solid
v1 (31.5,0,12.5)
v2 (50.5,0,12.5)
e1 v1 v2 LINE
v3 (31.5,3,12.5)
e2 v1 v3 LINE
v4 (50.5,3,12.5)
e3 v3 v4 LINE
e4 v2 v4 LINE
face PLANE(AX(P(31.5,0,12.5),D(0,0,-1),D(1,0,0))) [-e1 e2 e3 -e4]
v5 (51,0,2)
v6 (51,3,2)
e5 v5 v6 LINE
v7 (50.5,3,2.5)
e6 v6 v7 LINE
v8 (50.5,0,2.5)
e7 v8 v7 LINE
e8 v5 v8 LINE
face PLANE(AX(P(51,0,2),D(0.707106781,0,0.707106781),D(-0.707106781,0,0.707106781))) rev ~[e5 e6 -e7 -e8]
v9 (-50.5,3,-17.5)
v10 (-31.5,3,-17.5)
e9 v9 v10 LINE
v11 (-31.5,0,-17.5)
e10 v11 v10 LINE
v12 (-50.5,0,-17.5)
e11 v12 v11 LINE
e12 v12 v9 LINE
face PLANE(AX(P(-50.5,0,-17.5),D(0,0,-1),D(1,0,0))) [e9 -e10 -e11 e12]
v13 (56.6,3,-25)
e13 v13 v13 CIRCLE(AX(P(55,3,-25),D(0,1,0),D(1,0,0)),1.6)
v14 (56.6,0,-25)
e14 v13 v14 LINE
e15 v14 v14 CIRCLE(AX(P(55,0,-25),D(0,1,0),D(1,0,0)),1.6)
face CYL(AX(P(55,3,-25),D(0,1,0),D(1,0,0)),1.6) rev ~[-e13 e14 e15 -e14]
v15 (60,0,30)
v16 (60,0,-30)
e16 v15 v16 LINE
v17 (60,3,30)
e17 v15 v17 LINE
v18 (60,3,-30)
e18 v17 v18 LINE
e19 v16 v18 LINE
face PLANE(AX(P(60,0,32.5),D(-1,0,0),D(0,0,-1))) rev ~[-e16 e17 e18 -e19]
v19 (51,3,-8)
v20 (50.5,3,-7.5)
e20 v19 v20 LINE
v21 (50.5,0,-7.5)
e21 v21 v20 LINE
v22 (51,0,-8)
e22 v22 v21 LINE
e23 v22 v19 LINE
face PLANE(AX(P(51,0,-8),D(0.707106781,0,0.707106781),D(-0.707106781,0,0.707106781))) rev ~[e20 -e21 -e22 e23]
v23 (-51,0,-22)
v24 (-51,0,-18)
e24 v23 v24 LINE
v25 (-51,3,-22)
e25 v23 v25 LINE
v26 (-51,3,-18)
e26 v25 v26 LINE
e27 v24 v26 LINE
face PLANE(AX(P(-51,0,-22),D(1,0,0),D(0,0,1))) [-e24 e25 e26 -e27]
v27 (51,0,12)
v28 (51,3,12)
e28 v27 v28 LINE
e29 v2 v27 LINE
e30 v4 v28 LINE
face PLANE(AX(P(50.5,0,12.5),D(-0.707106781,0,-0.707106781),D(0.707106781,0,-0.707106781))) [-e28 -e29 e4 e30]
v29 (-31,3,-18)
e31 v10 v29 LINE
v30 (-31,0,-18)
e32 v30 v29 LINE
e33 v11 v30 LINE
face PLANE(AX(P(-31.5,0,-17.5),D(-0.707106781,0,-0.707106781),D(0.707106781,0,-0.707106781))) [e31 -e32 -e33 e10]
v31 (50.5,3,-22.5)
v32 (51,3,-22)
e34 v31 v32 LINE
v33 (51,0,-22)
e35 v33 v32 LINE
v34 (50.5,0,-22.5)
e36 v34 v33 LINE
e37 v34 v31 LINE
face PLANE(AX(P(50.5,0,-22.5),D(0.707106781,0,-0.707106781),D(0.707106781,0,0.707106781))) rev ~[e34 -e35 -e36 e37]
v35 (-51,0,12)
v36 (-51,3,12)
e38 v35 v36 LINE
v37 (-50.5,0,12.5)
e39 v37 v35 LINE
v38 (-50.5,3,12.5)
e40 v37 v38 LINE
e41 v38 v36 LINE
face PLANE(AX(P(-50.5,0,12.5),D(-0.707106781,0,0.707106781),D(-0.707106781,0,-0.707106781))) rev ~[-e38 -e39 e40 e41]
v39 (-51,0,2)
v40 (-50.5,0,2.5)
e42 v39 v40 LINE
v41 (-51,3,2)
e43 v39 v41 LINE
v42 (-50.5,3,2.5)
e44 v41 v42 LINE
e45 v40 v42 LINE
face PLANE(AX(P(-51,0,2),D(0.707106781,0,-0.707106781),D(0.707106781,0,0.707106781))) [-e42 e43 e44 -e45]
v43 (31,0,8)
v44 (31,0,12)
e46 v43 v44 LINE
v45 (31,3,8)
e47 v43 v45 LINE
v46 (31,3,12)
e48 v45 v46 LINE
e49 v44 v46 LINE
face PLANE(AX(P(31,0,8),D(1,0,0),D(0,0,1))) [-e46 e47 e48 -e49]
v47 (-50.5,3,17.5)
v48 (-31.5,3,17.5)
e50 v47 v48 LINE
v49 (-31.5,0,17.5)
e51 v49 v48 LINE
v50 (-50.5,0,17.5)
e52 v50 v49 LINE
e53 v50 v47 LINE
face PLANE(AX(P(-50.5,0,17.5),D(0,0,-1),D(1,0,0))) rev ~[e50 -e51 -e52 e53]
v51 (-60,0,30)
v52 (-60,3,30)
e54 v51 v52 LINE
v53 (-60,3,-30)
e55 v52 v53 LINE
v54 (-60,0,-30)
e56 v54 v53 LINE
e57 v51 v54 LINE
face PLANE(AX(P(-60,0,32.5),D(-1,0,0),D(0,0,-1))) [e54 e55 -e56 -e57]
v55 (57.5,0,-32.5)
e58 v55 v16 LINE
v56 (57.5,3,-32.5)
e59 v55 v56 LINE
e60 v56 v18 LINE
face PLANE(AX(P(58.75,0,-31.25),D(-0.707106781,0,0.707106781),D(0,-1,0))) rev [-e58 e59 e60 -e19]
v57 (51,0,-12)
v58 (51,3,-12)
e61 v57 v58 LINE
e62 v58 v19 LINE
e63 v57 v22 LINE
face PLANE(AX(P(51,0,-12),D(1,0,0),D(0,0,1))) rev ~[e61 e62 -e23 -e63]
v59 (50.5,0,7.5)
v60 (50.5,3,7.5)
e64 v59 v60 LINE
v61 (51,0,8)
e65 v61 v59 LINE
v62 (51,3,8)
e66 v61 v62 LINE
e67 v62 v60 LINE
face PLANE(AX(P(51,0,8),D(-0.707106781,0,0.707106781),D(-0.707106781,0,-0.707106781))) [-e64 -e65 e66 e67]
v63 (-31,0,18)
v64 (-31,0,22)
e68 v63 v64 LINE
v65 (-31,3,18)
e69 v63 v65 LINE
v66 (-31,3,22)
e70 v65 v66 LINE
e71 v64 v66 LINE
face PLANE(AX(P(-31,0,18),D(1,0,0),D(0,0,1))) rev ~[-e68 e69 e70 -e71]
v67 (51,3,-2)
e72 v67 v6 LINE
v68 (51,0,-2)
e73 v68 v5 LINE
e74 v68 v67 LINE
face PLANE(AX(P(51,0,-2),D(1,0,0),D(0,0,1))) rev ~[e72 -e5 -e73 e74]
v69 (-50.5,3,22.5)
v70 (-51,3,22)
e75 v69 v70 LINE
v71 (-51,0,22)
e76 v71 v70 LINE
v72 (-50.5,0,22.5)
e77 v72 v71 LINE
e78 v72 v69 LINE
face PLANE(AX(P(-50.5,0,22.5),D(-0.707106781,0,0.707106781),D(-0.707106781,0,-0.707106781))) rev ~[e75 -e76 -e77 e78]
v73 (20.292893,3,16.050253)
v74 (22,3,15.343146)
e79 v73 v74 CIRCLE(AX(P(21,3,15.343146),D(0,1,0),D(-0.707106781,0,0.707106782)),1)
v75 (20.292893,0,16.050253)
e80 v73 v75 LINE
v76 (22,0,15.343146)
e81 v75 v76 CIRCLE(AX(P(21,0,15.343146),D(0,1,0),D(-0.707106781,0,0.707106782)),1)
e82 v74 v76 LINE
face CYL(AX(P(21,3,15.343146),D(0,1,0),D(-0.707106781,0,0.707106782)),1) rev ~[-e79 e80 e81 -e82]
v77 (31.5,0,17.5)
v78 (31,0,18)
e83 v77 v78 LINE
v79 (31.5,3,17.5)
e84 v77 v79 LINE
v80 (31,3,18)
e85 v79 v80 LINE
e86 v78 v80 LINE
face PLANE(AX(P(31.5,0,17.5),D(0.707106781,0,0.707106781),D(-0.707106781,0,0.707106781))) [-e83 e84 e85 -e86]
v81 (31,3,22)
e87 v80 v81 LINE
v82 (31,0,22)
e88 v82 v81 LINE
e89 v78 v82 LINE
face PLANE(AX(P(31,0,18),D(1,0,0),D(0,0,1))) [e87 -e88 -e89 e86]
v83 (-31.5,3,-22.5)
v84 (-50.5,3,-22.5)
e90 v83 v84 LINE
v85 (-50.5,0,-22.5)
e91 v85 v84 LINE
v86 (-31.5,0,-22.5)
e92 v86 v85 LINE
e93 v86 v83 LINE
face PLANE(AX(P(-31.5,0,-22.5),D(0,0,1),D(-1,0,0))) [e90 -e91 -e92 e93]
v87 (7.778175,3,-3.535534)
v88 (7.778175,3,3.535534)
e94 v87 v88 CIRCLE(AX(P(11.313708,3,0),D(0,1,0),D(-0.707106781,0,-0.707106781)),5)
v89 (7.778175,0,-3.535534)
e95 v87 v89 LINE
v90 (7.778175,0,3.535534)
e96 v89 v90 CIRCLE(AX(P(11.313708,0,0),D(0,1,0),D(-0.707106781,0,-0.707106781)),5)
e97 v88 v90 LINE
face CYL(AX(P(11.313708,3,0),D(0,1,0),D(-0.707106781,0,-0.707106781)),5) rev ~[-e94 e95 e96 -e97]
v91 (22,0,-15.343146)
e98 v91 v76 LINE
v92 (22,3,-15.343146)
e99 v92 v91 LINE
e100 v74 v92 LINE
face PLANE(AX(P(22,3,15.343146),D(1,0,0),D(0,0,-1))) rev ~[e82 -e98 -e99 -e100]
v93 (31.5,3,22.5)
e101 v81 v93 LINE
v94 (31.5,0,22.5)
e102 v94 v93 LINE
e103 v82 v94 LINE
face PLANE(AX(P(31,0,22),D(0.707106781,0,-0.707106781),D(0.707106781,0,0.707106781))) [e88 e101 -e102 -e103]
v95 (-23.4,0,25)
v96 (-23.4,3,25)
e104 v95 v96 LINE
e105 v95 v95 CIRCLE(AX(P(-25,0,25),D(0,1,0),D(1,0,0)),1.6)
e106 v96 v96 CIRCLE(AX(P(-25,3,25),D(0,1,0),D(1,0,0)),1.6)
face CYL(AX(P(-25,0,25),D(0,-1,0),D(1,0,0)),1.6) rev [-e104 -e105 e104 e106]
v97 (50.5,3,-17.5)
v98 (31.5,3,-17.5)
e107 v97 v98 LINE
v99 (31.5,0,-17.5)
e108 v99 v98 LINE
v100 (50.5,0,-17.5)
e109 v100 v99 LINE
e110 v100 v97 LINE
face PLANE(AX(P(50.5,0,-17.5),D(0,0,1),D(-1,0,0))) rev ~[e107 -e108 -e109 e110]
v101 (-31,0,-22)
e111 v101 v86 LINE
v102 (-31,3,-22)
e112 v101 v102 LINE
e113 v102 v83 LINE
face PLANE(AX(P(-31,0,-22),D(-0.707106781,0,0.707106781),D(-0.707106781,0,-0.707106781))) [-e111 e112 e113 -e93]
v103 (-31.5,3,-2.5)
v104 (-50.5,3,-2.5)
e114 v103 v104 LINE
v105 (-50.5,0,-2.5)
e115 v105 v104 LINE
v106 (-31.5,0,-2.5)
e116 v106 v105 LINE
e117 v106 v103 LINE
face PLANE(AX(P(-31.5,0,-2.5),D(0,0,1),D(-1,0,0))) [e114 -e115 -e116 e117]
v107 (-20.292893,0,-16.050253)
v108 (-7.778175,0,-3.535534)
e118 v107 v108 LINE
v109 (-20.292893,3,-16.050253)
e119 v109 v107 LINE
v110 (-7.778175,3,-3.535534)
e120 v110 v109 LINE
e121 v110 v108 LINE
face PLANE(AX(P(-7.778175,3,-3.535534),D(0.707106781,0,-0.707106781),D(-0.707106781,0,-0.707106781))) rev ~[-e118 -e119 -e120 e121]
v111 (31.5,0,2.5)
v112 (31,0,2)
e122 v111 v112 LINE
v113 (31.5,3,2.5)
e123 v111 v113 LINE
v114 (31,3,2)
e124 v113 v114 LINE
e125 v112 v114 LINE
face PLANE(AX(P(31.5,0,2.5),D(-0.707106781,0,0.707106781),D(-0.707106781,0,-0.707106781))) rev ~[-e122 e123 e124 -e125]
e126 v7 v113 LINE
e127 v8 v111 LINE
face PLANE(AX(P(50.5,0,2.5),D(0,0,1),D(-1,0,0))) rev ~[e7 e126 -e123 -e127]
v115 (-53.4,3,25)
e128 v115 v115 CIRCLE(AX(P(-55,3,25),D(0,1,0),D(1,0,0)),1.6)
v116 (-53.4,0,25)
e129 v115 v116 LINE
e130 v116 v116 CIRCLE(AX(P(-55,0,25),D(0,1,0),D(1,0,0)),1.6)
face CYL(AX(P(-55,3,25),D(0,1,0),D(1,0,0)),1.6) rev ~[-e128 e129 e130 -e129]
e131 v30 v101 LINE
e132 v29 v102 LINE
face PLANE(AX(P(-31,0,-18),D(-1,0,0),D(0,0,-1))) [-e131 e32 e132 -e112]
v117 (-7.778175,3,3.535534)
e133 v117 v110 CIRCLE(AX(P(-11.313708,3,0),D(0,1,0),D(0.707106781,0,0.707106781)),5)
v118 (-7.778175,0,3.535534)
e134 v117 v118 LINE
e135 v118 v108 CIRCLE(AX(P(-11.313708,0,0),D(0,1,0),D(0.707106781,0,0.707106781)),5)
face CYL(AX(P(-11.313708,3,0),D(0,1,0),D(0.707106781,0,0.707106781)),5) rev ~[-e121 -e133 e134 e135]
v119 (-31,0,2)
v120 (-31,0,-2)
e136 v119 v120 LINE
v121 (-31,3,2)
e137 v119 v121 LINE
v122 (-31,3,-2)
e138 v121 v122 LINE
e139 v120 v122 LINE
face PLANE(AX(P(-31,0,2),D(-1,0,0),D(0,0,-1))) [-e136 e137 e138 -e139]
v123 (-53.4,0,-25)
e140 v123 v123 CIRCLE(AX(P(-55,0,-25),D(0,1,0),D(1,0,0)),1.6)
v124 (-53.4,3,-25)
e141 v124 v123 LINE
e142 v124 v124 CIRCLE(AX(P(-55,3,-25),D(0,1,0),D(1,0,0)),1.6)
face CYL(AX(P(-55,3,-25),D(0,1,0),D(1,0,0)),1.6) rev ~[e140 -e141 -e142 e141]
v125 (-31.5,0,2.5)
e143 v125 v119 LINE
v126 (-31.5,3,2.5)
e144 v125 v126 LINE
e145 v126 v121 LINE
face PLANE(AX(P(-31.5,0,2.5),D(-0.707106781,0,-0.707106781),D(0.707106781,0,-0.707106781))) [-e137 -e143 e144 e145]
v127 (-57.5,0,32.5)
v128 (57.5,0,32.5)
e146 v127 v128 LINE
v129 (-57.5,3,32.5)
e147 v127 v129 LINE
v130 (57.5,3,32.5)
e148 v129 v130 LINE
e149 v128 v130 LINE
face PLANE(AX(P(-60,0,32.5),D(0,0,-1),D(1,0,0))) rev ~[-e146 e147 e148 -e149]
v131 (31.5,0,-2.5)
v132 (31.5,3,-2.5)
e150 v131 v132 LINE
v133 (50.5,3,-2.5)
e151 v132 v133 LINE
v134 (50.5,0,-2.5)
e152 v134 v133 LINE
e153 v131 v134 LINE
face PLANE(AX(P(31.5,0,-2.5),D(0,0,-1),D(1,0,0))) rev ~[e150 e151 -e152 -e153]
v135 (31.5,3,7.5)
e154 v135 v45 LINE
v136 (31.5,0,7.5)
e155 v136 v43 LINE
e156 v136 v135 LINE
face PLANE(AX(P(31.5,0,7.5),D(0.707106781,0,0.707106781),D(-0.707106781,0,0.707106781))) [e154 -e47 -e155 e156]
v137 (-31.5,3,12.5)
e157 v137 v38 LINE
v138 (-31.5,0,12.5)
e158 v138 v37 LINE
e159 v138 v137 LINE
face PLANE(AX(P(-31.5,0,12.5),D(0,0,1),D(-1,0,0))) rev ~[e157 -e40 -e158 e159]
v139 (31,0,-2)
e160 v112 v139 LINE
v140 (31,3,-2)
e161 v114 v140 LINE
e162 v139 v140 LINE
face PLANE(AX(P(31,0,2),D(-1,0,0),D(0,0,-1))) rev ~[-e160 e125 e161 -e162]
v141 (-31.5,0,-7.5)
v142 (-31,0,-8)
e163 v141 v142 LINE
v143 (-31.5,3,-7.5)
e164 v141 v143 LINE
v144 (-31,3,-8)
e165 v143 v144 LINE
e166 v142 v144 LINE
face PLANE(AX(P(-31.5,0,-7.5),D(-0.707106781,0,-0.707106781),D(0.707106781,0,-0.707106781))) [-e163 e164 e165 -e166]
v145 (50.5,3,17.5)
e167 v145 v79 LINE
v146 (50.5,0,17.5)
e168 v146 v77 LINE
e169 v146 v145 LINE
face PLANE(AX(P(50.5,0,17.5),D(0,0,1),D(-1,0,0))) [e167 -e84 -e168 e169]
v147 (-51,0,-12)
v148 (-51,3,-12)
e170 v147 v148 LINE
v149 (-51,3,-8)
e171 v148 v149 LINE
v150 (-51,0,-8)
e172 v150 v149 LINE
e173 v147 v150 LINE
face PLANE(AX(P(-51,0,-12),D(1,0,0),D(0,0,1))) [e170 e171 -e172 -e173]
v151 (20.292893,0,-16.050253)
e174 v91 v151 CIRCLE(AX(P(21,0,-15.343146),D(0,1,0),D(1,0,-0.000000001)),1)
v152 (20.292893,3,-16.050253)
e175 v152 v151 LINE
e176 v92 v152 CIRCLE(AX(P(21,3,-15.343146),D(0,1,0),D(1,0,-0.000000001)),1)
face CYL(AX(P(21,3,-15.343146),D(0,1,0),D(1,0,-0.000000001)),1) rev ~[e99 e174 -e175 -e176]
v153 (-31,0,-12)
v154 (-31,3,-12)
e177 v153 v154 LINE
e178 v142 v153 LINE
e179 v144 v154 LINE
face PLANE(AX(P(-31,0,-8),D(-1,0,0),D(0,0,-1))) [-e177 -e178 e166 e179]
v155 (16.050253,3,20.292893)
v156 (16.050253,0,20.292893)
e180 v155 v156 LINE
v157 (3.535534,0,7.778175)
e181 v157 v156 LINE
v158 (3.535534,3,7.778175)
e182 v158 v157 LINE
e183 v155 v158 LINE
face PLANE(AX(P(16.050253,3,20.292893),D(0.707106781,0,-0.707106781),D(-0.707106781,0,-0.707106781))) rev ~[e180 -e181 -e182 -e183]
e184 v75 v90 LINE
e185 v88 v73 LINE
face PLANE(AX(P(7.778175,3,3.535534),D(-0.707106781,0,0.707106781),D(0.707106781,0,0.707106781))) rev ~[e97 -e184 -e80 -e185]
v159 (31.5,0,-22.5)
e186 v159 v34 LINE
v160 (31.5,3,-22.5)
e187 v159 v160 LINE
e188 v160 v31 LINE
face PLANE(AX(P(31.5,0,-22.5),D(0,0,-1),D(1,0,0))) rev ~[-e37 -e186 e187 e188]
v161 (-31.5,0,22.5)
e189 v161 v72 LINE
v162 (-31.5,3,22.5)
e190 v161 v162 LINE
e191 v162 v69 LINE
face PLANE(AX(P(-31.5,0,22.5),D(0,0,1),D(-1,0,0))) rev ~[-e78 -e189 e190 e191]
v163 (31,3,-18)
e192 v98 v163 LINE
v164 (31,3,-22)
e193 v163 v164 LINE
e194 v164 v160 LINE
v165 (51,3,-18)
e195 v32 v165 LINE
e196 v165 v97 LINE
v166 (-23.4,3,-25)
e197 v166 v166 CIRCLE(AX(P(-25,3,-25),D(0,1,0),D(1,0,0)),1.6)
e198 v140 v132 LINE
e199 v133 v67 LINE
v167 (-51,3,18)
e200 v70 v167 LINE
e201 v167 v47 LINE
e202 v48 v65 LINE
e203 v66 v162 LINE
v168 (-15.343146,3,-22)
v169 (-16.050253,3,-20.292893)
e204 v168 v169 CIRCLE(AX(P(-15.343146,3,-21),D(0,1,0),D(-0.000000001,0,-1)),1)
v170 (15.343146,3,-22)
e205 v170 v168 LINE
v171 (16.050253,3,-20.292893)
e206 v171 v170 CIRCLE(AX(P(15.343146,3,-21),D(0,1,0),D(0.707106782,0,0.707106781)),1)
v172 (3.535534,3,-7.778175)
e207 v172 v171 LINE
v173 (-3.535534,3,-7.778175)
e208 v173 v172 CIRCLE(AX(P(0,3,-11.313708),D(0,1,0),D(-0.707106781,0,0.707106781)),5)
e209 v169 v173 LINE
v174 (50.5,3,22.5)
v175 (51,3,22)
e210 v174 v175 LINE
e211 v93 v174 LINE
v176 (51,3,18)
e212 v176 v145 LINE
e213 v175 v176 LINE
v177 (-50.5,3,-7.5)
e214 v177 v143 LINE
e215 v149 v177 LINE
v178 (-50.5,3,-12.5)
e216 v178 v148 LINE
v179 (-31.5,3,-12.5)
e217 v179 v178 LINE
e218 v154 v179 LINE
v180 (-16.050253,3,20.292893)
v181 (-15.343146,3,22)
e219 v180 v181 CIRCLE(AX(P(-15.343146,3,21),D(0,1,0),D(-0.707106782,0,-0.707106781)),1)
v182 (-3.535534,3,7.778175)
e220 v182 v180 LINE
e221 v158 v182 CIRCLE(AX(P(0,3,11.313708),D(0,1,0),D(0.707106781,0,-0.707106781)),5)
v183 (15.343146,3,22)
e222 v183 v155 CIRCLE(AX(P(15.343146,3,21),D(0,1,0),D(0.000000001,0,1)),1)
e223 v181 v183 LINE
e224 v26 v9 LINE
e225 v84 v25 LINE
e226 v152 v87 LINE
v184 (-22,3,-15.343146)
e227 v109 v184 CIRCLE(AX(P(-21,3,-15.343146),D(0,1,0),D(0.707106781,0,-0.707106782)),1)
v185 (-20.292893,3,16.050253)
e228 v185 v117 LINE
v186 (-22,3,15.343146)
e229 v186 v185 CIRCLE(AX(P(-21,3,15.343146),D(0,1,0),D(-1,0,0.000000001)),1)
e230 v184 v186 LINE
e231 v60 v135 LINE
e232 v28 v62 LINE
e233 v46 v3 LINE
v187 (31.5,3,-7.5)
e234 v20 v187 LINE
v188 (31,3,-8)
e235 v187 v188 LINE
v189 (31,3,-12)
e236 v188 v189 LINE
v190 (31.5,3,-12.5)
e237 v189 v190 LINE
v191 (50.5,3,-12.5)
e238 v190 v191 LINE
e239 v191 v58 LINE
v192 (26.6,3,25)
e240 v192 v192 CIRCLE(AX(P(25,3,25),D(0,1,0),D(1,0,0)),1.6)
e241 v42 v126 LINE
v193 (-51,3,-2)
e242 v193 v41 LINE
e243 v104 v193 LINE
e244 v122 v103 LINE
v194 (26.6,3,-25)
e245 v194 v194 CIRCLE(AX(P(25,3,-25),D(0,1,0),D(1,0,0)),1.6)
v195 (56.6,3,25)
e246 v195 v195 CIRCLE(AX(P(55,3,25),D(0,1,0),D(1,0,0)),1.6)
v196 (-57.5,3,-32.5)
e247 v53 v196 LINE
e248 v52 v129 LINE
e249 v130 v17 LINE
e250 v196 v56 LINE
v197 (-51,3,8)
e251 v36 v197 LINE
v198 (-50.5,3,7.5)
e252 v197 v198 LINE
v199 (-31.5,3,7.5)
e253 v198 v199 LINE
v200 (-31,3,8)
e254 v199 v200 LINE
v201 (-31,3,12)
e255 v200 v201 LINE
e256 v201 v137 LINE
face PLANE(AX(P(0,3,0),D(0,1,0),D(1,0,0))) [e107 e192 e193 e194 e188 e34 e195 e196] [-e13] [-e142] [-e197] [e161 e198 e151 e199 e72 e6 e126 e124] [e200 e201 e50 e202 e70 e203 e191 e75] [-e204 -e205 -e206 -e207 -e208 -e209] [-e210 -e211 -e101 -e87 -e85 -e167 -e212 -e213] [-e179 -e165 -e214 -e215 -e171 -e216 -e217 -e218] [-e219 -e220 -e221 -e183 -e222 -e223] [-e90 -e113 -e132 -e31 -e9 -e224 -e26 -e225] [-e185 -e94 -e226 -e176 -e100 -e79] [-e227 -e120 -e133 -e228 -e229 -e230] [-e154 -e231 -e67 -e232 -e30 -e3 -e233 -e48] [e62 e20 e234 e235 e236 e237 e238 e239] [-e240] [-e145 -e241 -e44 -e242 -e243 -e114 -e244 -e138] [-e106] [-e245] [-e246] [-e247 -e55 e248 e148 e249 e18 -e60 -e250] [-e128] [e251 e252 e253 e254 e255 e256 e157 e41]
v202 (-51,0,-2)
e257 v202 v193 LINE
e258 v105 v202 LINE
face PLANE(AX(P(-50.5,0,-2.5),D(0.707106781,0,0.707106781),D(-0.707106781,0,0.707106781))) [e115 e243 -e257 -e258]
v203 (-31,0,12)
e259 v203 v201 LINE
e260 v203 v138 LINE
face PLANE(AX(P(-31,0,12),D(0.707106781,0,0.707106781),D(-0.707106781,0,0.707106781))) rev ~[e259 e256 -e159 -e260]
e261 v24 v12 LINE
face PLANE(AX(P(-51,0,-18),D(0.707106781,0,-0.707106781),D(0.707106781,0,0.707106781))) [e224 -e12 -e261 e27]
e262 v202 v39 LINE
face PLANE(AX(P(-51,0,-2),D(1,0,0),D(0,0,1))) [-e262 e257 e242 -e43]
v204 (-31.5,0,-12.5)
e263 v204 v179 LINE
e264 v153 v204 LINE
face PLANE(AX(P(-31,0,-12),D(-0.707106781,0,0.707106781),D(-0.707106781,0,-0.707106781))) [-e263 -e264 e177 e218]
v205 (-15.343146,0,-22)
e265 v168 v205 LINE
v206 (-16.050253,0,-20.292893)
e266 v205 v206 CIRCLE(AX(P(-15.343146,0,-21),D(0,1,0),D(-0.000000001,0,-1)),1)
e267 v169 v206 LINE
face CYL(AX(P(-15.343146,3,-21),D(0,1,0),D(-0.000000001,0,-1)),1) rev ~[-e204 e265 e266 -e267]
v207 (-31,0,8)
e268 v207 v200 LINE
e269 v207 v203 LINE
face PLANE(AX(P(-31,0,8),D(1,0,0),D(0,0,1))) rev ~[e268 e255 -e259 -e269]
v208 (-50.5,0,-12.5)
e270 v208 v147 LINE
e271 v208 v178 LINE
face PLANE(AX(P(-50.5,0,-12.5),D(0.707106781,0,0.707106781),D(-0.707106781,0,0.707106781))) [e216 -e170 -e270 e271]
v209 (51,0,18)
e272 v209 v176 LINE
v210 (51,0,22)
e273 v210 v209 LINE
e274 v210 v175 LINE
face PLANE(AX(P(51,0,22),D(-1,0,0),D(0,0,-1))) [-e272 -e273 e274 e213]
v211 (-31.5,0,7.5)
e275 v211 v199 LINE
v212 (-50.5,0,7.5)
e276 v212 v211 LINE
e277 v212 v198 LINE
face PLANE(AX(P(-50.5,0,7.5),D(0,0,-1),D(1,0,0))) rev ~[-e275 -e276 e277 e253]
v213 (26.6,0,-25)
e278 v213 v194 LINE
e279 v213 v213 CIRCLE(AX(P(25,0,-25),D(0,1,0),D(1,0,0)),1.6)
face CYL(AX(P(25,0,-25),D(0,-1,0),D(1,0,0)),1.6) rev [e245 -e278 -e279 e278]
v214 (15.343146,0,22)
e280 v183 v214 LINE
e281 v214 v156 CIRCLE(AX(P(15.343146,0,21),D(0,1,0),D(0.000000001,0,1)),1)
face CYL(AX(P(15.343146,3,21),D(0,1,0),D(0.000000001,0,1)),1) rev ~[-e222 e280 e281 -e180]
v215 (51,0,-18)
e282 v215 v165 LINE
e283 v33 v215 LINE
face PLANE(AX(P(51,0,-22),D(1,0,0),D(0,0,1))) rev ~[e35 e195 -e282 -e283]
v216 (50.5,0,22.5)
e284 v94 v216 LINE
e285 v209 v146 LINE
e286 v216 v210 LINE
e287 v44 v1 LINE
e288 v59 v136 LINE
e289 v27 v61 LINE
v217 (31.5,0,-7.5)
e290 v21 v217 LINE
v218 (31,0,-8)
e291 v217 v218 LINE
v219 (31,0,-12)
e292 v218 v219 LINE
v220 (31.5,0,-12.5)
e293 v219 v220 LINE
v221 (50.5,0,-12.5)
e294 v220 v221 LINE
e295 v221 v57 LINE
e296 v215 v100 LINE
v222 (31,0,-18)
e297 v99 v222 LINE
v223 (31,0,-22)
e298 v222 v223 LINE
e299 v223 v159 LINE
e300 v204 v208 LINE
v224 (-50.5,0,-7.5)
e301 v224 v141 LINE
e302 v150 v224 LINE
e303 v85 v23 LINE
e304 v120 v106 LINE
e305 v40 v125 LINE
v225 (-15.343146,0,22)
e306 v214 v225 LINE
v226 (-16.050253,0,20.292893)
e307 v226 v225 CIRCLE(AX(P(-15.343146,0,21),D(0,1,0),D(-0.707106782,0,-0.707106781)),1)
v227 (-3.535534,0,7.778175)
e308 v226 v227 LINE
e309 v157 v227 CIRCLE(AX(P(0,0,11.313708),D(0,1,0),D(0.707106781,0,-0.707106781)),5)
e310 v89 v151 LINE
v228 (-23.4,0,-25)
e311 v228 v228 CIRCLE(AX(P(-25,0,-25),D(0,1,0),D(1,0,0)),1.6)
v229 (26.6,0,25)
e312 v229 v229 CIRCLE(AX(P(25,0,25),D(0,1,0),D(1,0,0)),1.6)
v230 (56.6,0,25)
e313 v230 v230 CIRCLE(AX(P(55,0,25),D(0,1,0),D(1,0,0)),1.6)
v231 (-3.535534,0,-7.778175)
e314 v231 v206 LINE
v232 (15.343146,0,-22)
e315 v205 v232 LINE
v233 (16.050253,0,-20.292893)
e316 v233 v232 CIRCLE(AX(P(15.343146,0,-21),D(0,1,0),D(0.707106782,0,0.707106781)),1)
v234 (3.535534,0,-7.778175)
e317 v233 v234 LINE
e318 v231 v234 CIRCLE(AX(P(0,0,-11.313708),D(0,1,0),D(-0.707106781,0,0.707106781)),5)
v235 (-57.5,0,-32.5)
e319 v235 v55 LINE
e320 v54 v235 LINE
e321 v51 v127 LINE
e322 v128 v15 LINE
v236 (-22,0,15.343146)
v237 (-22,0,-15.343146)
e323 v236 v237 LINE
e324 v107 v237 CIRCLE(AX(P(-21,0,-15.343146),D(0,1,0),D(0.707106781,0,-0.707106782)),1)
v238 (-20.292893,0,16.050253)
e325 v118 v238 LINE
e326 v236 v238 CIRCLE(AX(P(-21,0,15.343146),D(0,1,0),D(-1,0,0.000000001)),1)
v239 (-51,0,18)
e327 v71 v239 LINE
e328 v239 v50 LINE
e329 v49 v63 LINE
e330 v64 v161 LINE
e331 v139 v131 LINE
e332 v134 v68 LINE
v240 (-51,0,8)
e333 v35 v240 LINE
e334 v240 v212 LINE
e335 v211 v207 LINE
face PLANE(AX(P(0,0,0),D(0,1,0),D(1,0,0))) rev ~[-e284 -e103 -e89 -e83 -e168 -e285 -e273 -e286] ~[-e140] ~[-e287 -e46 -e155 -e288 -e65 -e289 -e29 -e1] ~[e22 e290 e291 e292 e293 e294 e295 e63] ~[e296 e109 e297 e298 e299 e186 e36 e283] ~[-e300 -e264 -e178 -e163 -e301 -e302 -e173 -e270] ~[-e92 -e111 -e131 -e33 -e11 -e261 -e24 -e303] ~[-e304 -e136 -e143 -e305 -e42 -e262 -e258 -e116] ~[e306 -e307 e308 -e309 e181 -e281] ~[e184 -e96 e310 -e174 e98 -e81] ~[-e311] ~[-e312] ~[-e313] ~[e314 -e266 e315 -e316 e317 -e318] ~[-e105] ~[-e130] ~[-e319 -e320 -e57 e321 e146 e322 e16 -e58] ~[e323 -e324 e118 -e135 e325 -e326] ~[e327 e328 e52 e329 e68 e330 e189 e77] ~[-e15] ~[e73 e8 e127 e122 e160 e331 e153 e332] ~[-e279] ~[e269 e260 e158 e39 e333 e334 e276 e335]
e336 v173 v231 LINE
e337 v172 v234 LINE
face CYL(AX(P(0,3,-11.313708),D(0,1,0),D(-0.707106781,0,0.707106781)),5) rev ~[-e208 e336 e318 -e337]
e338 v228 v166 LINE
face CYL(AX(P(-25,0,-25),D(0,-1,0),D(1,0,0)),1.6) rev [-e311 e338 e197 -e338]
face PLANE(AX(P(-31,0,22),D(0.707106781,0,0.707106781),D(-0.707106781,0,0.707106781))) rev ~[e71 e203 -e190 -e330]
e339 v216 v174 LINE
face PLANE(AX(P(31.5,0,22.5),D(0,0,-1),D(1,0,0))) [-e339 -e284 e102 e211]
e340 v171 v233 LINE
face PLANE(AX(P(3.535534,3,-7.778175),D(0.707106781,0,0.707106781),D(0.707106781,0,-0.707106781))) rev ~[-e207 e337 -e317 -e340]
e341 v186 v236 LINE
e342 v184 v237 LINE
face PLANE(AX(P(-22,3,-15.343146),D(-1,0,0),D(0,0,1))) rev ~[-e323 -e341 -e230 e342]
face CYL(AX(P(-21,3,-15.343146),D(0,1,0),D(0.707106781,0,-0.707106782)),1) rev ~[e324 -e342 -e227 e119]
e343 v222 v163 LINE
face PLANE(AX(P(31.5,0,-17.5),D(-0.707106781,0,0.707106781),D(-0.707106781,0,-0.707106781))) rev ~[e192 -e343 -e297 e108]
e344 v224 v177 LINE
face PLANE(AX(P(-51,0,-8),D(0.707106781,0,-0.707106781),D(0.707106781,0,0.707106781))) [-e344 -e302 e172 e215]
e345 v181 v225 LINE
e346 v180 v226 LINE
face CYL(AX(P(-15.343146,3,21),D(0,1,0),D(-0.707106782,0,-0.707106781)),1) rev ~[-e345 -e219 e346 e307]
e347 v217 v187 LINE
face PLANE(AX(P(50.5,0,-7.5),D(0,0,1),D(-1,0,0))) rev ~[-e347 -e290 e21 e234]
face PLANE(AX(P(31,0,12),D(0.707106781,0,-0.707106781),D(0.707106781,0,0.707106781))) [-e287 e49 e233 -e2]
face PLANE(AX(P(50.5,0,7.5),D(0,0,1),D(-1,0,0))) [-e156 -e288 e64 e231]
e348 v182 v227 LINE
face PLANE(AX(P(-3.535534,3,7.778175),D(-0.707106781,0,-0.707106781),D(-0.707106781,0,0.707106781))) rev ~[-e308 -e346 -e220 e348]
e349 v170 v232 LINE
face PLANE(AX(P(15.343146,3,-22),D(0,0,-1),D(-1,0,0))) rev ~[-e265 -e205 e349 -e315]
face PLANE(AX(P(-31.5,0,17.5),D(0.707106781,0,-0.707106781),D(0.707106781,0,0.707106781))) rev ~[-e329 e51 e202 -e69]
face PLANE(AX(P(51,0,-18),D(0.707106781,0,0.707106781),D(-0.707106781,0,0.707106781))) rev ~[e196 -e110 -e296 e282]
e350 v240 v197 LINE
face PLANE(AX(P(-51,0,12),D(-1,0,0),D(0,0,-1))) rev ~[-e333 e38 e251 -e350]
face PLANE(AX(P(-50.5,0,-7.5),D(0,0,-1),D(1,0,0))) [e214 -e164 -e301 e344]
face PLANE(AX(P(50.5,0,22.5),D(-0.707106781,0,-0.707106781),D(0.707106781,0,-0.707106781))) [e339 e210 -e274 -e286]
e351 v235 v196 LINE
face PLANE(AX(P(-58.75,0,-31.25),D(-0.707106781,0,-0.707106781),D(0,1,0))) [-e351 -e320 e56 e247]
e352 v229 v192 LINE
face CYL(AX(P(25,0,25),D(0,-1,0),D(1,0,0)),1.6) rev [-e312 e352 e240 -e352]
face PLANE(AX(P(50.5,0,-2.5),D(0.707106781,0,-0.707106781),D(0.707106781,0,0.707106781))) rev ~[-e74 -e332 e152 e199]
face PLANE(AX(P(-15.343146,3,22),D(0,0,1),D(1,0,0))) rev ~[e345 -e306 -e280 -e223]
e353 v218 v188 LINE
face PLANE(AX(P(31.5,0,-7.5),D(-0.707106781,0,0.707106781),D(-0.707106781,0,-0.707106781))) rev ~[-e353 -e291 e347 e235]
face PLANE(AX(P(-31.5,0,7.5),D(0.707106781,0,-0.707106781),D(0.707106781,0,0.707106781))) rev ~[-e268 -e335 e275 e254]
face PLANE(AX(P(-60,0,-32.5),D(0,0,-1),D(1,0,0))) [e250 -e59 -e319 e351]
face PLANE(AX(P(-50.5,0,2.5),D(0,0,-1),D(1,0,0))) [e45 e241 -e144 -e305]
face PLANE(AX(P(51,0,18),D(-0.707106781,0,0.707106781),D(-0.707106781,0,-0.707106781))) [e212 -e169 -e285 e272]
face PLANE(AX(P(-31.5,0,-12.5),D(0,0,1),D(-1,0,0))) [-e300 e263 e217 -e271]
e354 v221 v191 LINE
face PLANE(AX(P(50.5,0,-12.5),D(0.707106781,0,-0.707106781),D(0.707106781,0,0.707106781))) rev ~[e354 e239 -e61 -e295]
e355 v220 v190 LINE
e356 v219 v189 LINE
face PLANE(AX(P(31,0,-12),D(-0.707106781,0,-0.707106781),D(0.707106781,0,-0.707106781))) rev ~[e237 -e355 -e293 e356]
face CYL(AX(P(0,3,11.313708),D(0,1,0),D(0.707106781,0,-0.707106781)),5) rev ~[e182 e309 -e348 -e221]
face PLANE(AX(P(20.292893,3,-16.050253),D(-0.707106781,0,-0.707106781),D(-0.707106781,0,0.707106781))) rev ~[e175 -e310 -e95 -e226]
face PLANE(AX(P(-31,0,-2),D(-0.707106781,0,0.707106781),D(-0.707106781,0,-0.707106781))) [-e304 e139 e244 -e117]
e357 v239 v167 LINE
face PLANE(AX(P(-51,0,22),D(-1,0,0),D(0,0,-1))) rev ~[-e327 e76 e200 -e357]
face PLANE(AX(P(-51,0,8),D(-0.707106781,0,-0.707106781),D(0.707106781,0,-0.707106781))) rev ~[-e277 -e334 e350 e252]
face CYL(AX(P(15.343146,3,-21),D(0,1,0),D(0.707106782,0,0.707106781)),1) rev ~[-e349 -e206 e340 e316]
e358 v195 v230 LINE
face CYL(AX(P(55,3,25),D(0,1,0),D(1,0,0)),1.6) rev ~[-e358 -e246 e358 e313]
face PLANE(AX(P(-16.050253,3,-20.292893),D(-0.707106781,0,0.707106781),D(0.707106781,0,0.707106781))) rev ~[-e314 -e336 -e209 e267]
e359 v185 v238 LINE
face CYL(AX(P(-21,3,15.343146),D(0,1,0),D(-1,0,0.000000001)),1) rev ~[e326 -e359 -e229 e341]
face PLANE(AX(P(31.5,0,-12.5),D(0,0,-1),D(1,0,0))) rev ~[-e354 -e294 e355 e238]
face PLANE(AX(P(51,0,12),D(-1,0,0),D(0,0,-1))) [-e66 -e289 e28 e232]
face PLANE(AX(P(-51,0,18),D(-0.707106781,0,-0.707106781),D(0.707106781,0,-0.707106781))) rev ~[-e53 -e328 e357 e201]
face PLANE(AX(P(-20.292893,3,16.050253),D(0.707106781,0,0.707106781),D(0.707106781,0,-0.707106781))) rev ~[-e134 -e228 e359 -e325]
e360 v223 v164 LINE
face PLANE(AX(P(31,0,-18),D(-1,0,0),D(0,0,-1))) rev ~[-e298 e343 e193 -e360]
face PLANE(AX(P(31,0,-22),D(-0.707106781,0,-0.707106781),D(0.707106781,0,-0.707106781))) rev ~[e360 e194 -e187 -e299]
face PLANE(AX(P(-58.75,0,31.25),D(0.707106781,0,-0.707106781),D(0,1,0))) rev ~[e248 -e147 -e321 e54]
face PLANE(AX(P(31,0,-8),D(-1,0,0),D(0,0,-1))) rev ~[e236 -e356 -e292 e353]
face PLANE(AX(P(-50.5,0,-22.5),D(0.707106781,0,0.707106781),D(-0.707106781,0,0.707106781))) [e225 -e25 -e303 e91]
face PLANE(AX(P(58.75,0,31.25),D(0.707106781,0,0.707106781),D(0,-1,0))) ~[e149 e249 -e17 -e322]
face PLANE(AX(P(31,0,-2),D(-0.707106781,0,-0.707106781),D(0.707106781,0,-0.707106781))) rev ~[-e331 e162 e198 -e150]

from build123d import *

# Parameters (mm, degrees)
SKETCH_1_W          = 120
SKETCH_1_H          = 65
SKETCH_1_R          = 1.6
EXTRUDE_1_DEPTH     = 3
CUT_EXTRUDE_1_REACH = 5
SKETCH_2_R          = 1.6
CUT_EXTRUDE_2_REACH = 5
CUT_EXTRUDE_3_DEPTH = 3
CHAMFER_1_SIZE      = 2.5


with BuildPart() as part:
    # 草图1 → 凸台-拉伸1 (new body)
    with BuildSketch(Plane(origin=(0, 0, 0), x_dir=(1, 0, 0), z_dir=(0, 1, 0))):
        Rectangle(SKETCH_1_W, SKETCH_1_H)
        with Locations((-25, 25)):
            Circle(SKETCH_1_R, mode=Mode.SUBTRACT)
        with Locations((25, 25)):
            Circle(SKETCH_1_R, mode=Mode.SUBTRACT)
        with Locations((25, -25)):
            Circle(SKETCH_1_R, mode=Mode.SUBTRACT)
        with Locations((-25, -25)):
            Circle(SKETCH_1_R, mode=Mode.SUBTRACT)
    extrude(amount=EXTRUDE_1_DEPTH)

    # 草图2 → 切除-拉伸1 (cut, up to next)
    with BuildSketch(Plane(origin=(0, 3, 0), x_dir=(1, 0, 0), z_dir=(0, 1, 0)), mode=Mode.PRIVATE) as cut_extrude_1_sk1:
        with Locations((55, 25)):
            Circle(SKETCH_2_R)
    cut_extrude_1_tool1 = extrude(cut_extrude_1_sk1.sketch, amount=-CUT_EXTRUDE_1_REACH, mode=Mode.PRIVATE) & part.part
    add(cut_extrude_1_tool1.solids().sort_by_distance((55, 3, -25))[0], mode=Mode.SUBTRACT)
    # 草图2 → 切除-拉伸1 (cut, up to next)
    with BuildSketch(Plane(origin=(0, 3, 0), x_dir=(1, 0, 0), z_dir=(0, 1, 0)), mode=Mode.PRIVATE) as cut_extrude_1_sk2:
        with Locations((55, -25)):
            Circle(SKETCH_2_R)
    cut_extrude_1_tool2 = extrude(cut_extrude_1_sk2.sketch, amount=-CUT_EXTRUDE_1_REACH, mode=Mode.PRIVATE) & part.part
    add(cut_extrude_1_tool2.solids().sort_by_distance((55, 3, 25))[0], mode=Mode.SUBTRACT)
    # 草图2 → 切除-拉伸1 (cut, up to next)
    with BuildSketch(Plane(origin=(0, 3, 0), x_dir=(1, 0, 0), z_dir=(0, 1, 0)), mode=Mode.PRIVATE) as cut_extrude_1_sk3:
        with Locations((-55, -25)):
            Circle(SKETCH_2_R)
    cut_extrude_1_tool3 = extrude(cut_extrude_1_sk3.sketch, amount=-CUT_EXTRUDE_1_REACH, mode=Mode.PRIVATE) & part.part
    add(cut_extrude_1_tool3.solids().sort_by_distance((-55, 3, 25))[0], mode=Mode.SUBTRACT)
    # 草图2 → 切除-拉伸1 (cut, up to next)
    with BuildSketch(Plane(origin=(0, 3, 0), x_dir=(1, 0, 0), z_dir=(0, 1, 0)), mode=Mode.PRIVATE) as cut_extrude_1_sk4:
        with Locations((-55, 25)):
            Circle(SKETCH_2_R)
    cut_extrude_1_tool4 = extrude(cut_extrude_1_sk4.sketch, amount=-CUT_EXTRUDE_1_REACH, mode=Mode.PRIVATE) & part.part
    add(cut_extrude_1_tool4.solids().sort_by_distance((-55, 3, -25))[0], mode=Mode.SUBTRACT)

    # 草图3 → 切除-拉伸2 (cut, up to next)
    with BuildSketch(Plane(origin=(0, 3, 0), x_dir=(1, 0, 0), z_dir=(0, 1, 0)), mode=Mode.PRIVATE) as cut_extrude_2_sk1:
        with BuildLine():
            Line((-22, 15.343145751), (-22, -15.343145751))
            ThreePointArc((-22, -15.343145751), (-21.382683432, -16.267025283), (-20.292893219, -16.050252532))
            Line((-20.292893219, -16.050252532), (-7.778174593, -3.535533906))
            ThreePointArc((-7.778174593, -3.535533906), (-6.313708499, 0), (-7.778174593, 3.535533906))
            Line((-7.778174593, 3.535533906), (-20.292893219, 16.050252532))
            ThreePointArc((-20.292893219, 16.050252532), (-21.382683432, 16.267025283), (-22, 15.343145751))
        make_face()
    cut_extrude_2_tool1 = extrude(cut_extrude_2_sk1.sketch, amount=-CUT_EXTRUDE_2_REACH, mode=Mode.PRIVATE) & part.part
    add(cut_extrude_2_tool1.solids().sort_by_distance((-16.215858, 3, 0))[0], mode=Mode.SUBTRACT)
    # 草图3 → 切除-拉伸2 (cut, up to next)
    with BuildSketch(Plane(origin=(0, 3, 0), x_dir=(1, 0, 0), z_dir=(0, 1, 0)), mode=Mode.PRIVATE) as cut_extrude_2_sk2:
        with BuildLine():
            Line((15.343145751, 22), (-15.343145751, 22))
            ThreePointArc((-15.343145751, 22), (-16.267025283, 21.382683432), (-16.050252532, 20.292893219))
            Line((-16.050252532, 20.292893219), (-3.535533906, 7.778174593))
            ThreePointArc((-3.535533906, 7.778174593), (0, 6.313708499), (3.535533906, 7.778174593))
            Line((3.535533906, 7.778174593), (16.050252532, 20.292893219))
            ThreePointArc((16.050252532, 20.292893219), (16.267025283, 21.382683432), (15.343145751, 22))
        make_face()
    cut_extrude_2_tool2 = extrude(cut_extrude_2_sk2.sketch, amount=-CUT_EXTRUDE_2_REACH, mode=Mode.PRIVATE) & part.part
    add(cut_extrude_2_tool2.solids().sort_by_distance((0, 3, -16.215858))[0], mode=Mode.SUBTRACT)
    # 草图3 → 切除-拉伸2 (cut, up to next)
    with BuildSketch(Plane(origin=(0, 3, 0), x_dir=(1, 0, 0), z_dir=(0, 1, 0)), mode=Mode.PRIVATE) as cut_extrude_2_sk3:
        with BuildLine():
            Line((22, -15.343145751), (22, 15.343145751))
            ThreePointArc((22, 15.343145751), (21.382683432, 16.267025283), (20.292893219, 16.050252532))
            Line((20.292893219, 16.050252532), (7.778174593, 3.535533906))
            ThreePointArc((7.778174593, 3.535533906), (6.313708499, 0), (7.778174593, -3.535533906))
            Line((7.778174593, -3.535533906), (20.292893219, -16.050252532))
            ThreePointArc((20.292893219, -16.050252532), (21.382683432, -16.267025283), (22, -15.343145751))
        make_face()
    cut_extrude_2_tool3 = extrude(cut_extrude_2_sk3.sketch, amount=-CUT_EXTRUDE_2_REACH, mode=Mode.PRIVATE) & part.part
    add(cut_extrude_2_tool3.solids().sort_by_distance((16.215858, 3, 0))[0], mode=Mode.SUBTRACT)
    # 草图3 → 切除-拉伸2 (cut, up to next)
    with BuildSketch(Plane(origin=(0, 3, 0), x_dir=(1, 0, 0), z_dir=(0, 1, 0)), mode=Mode.PRIVATE) as cut_extrude_2_sk4:
        with BuildLine():
            Line((-15.343145751, -22), (15.343145751, -22))
            ThreePointArc((15.343145751, -22), (16.267025283, -21.382683432), (16.050252532, -20.292893219))
            Line((16.050252532, -20.292893219), (3.535533906, -7.778174593))
            ThreePointArc((3.535533906, -7.778174593), (0, -6.313708499), (-3.535533906, -7.778174593))
            Line((-3.535533906, -7.778174593), (-16.050252532, -20.292893219))
            ThreePointArc((-16.050252532, -20.292893219), (-16.267025283, -21.382683432), (-15.343145751, -22))
        make_face()
    cut_extrude_2_tool4 = extrude(cut_extrude_2_sk4.sketch, amount=-CUT_EXTRUDE_2_REACH, mode=Mode.PRIVATE) & part.part
    add(cut_extrude_2_tool4.solids().sort_by_distance((0, 3, 16.215858))[0], mode=Mode.SUBTRACT)

    # 草图4 → 切除-拉伸3 (cut)
    with BuildSketch(Plane.XZ):
        Polygon((50.5, -2.5), (51, -2), (51, 2), (50.5, 2.5), (31.5, 2.5), (31, 2), (31, -2), (31.5, -2.5), align=None)
        Polygon((50.5, 7.5), (31.5, 7.5), (31, 8), (31, 12), (31.5, 12.5), (50.5, 12.5), (51, 12), (51, 8), align=None)
        Polygon((50.5, 17.5), (31.5, 17.5), (31, 18), (31, 22), (31.5, 22.5), (50.5, 22.5), (51, 22), (51, 18), align=None)
        Polygon((31.5, -17.5), (31, -18), (31, -22), (31.5, -22.5), (50.5, -22.5), (51, -22), (51, -18), (50.5, -17.5), align=None)
        Polygon((31.5, -7.5), (31, -8), (31, -12), (31.5, -12.5), (50.5, -12.5), (51, -12), (51, -8), (50.5, -7.5), align=None)
        Polygon((-50.5, -7.5), (-31.5, -7.5), (-31, -8), (-31, -12), (-31.5, -12.5), (-50.5, -12.5), (-51, -12), (-51, -8), align=None)
        Polygon((-50.5, -17.5), (-31.5, -17.5), (-31, -18), (-31, -22), (-31.5, -22.5), (-50.5, -22.5), (-51, -22), (-51, -18), align=None)
        Polygon((-31.5, 17.5), (-31, 18), (-31, 22), (-31.5, 22.5), (-50.5, 22.5), (-51, 22), (-51, 18), (-50.5, 17.5), align=None)
        Polygon((-31.5, 7.5), (-31, 8), (-31, 12), (-31.5, 12.5), (-50.5, 12.5), (-51, 12), (-51, 8), (-50.5, 7.5), align=None)
        Polygon((-31.5, 2.5), (-31, 2), (-31, -2), (-31.5, -2.5), (-50.5, -2.5), (-51, -2), (-51, 2), (-50.5, 2.5), align=None)
    extrude(amount=-CUT_EXTRUDE_3_DEPTH, mode=Mode.SUBTRACT)

    # 倒角1
    chamfer_1_edges = [part.edges().sort_by_distance(p)[0] for p in [
        (60, 1.5, 32.5),
        (-60, 1.5, 32.5),
        (-60, 1.5, -32.5),
        (60, 1.5, -32.5),
    ]]
    chamfer(chamfer_1_edges, length=CHAMFER_1_SIZE)


solid = part.part
